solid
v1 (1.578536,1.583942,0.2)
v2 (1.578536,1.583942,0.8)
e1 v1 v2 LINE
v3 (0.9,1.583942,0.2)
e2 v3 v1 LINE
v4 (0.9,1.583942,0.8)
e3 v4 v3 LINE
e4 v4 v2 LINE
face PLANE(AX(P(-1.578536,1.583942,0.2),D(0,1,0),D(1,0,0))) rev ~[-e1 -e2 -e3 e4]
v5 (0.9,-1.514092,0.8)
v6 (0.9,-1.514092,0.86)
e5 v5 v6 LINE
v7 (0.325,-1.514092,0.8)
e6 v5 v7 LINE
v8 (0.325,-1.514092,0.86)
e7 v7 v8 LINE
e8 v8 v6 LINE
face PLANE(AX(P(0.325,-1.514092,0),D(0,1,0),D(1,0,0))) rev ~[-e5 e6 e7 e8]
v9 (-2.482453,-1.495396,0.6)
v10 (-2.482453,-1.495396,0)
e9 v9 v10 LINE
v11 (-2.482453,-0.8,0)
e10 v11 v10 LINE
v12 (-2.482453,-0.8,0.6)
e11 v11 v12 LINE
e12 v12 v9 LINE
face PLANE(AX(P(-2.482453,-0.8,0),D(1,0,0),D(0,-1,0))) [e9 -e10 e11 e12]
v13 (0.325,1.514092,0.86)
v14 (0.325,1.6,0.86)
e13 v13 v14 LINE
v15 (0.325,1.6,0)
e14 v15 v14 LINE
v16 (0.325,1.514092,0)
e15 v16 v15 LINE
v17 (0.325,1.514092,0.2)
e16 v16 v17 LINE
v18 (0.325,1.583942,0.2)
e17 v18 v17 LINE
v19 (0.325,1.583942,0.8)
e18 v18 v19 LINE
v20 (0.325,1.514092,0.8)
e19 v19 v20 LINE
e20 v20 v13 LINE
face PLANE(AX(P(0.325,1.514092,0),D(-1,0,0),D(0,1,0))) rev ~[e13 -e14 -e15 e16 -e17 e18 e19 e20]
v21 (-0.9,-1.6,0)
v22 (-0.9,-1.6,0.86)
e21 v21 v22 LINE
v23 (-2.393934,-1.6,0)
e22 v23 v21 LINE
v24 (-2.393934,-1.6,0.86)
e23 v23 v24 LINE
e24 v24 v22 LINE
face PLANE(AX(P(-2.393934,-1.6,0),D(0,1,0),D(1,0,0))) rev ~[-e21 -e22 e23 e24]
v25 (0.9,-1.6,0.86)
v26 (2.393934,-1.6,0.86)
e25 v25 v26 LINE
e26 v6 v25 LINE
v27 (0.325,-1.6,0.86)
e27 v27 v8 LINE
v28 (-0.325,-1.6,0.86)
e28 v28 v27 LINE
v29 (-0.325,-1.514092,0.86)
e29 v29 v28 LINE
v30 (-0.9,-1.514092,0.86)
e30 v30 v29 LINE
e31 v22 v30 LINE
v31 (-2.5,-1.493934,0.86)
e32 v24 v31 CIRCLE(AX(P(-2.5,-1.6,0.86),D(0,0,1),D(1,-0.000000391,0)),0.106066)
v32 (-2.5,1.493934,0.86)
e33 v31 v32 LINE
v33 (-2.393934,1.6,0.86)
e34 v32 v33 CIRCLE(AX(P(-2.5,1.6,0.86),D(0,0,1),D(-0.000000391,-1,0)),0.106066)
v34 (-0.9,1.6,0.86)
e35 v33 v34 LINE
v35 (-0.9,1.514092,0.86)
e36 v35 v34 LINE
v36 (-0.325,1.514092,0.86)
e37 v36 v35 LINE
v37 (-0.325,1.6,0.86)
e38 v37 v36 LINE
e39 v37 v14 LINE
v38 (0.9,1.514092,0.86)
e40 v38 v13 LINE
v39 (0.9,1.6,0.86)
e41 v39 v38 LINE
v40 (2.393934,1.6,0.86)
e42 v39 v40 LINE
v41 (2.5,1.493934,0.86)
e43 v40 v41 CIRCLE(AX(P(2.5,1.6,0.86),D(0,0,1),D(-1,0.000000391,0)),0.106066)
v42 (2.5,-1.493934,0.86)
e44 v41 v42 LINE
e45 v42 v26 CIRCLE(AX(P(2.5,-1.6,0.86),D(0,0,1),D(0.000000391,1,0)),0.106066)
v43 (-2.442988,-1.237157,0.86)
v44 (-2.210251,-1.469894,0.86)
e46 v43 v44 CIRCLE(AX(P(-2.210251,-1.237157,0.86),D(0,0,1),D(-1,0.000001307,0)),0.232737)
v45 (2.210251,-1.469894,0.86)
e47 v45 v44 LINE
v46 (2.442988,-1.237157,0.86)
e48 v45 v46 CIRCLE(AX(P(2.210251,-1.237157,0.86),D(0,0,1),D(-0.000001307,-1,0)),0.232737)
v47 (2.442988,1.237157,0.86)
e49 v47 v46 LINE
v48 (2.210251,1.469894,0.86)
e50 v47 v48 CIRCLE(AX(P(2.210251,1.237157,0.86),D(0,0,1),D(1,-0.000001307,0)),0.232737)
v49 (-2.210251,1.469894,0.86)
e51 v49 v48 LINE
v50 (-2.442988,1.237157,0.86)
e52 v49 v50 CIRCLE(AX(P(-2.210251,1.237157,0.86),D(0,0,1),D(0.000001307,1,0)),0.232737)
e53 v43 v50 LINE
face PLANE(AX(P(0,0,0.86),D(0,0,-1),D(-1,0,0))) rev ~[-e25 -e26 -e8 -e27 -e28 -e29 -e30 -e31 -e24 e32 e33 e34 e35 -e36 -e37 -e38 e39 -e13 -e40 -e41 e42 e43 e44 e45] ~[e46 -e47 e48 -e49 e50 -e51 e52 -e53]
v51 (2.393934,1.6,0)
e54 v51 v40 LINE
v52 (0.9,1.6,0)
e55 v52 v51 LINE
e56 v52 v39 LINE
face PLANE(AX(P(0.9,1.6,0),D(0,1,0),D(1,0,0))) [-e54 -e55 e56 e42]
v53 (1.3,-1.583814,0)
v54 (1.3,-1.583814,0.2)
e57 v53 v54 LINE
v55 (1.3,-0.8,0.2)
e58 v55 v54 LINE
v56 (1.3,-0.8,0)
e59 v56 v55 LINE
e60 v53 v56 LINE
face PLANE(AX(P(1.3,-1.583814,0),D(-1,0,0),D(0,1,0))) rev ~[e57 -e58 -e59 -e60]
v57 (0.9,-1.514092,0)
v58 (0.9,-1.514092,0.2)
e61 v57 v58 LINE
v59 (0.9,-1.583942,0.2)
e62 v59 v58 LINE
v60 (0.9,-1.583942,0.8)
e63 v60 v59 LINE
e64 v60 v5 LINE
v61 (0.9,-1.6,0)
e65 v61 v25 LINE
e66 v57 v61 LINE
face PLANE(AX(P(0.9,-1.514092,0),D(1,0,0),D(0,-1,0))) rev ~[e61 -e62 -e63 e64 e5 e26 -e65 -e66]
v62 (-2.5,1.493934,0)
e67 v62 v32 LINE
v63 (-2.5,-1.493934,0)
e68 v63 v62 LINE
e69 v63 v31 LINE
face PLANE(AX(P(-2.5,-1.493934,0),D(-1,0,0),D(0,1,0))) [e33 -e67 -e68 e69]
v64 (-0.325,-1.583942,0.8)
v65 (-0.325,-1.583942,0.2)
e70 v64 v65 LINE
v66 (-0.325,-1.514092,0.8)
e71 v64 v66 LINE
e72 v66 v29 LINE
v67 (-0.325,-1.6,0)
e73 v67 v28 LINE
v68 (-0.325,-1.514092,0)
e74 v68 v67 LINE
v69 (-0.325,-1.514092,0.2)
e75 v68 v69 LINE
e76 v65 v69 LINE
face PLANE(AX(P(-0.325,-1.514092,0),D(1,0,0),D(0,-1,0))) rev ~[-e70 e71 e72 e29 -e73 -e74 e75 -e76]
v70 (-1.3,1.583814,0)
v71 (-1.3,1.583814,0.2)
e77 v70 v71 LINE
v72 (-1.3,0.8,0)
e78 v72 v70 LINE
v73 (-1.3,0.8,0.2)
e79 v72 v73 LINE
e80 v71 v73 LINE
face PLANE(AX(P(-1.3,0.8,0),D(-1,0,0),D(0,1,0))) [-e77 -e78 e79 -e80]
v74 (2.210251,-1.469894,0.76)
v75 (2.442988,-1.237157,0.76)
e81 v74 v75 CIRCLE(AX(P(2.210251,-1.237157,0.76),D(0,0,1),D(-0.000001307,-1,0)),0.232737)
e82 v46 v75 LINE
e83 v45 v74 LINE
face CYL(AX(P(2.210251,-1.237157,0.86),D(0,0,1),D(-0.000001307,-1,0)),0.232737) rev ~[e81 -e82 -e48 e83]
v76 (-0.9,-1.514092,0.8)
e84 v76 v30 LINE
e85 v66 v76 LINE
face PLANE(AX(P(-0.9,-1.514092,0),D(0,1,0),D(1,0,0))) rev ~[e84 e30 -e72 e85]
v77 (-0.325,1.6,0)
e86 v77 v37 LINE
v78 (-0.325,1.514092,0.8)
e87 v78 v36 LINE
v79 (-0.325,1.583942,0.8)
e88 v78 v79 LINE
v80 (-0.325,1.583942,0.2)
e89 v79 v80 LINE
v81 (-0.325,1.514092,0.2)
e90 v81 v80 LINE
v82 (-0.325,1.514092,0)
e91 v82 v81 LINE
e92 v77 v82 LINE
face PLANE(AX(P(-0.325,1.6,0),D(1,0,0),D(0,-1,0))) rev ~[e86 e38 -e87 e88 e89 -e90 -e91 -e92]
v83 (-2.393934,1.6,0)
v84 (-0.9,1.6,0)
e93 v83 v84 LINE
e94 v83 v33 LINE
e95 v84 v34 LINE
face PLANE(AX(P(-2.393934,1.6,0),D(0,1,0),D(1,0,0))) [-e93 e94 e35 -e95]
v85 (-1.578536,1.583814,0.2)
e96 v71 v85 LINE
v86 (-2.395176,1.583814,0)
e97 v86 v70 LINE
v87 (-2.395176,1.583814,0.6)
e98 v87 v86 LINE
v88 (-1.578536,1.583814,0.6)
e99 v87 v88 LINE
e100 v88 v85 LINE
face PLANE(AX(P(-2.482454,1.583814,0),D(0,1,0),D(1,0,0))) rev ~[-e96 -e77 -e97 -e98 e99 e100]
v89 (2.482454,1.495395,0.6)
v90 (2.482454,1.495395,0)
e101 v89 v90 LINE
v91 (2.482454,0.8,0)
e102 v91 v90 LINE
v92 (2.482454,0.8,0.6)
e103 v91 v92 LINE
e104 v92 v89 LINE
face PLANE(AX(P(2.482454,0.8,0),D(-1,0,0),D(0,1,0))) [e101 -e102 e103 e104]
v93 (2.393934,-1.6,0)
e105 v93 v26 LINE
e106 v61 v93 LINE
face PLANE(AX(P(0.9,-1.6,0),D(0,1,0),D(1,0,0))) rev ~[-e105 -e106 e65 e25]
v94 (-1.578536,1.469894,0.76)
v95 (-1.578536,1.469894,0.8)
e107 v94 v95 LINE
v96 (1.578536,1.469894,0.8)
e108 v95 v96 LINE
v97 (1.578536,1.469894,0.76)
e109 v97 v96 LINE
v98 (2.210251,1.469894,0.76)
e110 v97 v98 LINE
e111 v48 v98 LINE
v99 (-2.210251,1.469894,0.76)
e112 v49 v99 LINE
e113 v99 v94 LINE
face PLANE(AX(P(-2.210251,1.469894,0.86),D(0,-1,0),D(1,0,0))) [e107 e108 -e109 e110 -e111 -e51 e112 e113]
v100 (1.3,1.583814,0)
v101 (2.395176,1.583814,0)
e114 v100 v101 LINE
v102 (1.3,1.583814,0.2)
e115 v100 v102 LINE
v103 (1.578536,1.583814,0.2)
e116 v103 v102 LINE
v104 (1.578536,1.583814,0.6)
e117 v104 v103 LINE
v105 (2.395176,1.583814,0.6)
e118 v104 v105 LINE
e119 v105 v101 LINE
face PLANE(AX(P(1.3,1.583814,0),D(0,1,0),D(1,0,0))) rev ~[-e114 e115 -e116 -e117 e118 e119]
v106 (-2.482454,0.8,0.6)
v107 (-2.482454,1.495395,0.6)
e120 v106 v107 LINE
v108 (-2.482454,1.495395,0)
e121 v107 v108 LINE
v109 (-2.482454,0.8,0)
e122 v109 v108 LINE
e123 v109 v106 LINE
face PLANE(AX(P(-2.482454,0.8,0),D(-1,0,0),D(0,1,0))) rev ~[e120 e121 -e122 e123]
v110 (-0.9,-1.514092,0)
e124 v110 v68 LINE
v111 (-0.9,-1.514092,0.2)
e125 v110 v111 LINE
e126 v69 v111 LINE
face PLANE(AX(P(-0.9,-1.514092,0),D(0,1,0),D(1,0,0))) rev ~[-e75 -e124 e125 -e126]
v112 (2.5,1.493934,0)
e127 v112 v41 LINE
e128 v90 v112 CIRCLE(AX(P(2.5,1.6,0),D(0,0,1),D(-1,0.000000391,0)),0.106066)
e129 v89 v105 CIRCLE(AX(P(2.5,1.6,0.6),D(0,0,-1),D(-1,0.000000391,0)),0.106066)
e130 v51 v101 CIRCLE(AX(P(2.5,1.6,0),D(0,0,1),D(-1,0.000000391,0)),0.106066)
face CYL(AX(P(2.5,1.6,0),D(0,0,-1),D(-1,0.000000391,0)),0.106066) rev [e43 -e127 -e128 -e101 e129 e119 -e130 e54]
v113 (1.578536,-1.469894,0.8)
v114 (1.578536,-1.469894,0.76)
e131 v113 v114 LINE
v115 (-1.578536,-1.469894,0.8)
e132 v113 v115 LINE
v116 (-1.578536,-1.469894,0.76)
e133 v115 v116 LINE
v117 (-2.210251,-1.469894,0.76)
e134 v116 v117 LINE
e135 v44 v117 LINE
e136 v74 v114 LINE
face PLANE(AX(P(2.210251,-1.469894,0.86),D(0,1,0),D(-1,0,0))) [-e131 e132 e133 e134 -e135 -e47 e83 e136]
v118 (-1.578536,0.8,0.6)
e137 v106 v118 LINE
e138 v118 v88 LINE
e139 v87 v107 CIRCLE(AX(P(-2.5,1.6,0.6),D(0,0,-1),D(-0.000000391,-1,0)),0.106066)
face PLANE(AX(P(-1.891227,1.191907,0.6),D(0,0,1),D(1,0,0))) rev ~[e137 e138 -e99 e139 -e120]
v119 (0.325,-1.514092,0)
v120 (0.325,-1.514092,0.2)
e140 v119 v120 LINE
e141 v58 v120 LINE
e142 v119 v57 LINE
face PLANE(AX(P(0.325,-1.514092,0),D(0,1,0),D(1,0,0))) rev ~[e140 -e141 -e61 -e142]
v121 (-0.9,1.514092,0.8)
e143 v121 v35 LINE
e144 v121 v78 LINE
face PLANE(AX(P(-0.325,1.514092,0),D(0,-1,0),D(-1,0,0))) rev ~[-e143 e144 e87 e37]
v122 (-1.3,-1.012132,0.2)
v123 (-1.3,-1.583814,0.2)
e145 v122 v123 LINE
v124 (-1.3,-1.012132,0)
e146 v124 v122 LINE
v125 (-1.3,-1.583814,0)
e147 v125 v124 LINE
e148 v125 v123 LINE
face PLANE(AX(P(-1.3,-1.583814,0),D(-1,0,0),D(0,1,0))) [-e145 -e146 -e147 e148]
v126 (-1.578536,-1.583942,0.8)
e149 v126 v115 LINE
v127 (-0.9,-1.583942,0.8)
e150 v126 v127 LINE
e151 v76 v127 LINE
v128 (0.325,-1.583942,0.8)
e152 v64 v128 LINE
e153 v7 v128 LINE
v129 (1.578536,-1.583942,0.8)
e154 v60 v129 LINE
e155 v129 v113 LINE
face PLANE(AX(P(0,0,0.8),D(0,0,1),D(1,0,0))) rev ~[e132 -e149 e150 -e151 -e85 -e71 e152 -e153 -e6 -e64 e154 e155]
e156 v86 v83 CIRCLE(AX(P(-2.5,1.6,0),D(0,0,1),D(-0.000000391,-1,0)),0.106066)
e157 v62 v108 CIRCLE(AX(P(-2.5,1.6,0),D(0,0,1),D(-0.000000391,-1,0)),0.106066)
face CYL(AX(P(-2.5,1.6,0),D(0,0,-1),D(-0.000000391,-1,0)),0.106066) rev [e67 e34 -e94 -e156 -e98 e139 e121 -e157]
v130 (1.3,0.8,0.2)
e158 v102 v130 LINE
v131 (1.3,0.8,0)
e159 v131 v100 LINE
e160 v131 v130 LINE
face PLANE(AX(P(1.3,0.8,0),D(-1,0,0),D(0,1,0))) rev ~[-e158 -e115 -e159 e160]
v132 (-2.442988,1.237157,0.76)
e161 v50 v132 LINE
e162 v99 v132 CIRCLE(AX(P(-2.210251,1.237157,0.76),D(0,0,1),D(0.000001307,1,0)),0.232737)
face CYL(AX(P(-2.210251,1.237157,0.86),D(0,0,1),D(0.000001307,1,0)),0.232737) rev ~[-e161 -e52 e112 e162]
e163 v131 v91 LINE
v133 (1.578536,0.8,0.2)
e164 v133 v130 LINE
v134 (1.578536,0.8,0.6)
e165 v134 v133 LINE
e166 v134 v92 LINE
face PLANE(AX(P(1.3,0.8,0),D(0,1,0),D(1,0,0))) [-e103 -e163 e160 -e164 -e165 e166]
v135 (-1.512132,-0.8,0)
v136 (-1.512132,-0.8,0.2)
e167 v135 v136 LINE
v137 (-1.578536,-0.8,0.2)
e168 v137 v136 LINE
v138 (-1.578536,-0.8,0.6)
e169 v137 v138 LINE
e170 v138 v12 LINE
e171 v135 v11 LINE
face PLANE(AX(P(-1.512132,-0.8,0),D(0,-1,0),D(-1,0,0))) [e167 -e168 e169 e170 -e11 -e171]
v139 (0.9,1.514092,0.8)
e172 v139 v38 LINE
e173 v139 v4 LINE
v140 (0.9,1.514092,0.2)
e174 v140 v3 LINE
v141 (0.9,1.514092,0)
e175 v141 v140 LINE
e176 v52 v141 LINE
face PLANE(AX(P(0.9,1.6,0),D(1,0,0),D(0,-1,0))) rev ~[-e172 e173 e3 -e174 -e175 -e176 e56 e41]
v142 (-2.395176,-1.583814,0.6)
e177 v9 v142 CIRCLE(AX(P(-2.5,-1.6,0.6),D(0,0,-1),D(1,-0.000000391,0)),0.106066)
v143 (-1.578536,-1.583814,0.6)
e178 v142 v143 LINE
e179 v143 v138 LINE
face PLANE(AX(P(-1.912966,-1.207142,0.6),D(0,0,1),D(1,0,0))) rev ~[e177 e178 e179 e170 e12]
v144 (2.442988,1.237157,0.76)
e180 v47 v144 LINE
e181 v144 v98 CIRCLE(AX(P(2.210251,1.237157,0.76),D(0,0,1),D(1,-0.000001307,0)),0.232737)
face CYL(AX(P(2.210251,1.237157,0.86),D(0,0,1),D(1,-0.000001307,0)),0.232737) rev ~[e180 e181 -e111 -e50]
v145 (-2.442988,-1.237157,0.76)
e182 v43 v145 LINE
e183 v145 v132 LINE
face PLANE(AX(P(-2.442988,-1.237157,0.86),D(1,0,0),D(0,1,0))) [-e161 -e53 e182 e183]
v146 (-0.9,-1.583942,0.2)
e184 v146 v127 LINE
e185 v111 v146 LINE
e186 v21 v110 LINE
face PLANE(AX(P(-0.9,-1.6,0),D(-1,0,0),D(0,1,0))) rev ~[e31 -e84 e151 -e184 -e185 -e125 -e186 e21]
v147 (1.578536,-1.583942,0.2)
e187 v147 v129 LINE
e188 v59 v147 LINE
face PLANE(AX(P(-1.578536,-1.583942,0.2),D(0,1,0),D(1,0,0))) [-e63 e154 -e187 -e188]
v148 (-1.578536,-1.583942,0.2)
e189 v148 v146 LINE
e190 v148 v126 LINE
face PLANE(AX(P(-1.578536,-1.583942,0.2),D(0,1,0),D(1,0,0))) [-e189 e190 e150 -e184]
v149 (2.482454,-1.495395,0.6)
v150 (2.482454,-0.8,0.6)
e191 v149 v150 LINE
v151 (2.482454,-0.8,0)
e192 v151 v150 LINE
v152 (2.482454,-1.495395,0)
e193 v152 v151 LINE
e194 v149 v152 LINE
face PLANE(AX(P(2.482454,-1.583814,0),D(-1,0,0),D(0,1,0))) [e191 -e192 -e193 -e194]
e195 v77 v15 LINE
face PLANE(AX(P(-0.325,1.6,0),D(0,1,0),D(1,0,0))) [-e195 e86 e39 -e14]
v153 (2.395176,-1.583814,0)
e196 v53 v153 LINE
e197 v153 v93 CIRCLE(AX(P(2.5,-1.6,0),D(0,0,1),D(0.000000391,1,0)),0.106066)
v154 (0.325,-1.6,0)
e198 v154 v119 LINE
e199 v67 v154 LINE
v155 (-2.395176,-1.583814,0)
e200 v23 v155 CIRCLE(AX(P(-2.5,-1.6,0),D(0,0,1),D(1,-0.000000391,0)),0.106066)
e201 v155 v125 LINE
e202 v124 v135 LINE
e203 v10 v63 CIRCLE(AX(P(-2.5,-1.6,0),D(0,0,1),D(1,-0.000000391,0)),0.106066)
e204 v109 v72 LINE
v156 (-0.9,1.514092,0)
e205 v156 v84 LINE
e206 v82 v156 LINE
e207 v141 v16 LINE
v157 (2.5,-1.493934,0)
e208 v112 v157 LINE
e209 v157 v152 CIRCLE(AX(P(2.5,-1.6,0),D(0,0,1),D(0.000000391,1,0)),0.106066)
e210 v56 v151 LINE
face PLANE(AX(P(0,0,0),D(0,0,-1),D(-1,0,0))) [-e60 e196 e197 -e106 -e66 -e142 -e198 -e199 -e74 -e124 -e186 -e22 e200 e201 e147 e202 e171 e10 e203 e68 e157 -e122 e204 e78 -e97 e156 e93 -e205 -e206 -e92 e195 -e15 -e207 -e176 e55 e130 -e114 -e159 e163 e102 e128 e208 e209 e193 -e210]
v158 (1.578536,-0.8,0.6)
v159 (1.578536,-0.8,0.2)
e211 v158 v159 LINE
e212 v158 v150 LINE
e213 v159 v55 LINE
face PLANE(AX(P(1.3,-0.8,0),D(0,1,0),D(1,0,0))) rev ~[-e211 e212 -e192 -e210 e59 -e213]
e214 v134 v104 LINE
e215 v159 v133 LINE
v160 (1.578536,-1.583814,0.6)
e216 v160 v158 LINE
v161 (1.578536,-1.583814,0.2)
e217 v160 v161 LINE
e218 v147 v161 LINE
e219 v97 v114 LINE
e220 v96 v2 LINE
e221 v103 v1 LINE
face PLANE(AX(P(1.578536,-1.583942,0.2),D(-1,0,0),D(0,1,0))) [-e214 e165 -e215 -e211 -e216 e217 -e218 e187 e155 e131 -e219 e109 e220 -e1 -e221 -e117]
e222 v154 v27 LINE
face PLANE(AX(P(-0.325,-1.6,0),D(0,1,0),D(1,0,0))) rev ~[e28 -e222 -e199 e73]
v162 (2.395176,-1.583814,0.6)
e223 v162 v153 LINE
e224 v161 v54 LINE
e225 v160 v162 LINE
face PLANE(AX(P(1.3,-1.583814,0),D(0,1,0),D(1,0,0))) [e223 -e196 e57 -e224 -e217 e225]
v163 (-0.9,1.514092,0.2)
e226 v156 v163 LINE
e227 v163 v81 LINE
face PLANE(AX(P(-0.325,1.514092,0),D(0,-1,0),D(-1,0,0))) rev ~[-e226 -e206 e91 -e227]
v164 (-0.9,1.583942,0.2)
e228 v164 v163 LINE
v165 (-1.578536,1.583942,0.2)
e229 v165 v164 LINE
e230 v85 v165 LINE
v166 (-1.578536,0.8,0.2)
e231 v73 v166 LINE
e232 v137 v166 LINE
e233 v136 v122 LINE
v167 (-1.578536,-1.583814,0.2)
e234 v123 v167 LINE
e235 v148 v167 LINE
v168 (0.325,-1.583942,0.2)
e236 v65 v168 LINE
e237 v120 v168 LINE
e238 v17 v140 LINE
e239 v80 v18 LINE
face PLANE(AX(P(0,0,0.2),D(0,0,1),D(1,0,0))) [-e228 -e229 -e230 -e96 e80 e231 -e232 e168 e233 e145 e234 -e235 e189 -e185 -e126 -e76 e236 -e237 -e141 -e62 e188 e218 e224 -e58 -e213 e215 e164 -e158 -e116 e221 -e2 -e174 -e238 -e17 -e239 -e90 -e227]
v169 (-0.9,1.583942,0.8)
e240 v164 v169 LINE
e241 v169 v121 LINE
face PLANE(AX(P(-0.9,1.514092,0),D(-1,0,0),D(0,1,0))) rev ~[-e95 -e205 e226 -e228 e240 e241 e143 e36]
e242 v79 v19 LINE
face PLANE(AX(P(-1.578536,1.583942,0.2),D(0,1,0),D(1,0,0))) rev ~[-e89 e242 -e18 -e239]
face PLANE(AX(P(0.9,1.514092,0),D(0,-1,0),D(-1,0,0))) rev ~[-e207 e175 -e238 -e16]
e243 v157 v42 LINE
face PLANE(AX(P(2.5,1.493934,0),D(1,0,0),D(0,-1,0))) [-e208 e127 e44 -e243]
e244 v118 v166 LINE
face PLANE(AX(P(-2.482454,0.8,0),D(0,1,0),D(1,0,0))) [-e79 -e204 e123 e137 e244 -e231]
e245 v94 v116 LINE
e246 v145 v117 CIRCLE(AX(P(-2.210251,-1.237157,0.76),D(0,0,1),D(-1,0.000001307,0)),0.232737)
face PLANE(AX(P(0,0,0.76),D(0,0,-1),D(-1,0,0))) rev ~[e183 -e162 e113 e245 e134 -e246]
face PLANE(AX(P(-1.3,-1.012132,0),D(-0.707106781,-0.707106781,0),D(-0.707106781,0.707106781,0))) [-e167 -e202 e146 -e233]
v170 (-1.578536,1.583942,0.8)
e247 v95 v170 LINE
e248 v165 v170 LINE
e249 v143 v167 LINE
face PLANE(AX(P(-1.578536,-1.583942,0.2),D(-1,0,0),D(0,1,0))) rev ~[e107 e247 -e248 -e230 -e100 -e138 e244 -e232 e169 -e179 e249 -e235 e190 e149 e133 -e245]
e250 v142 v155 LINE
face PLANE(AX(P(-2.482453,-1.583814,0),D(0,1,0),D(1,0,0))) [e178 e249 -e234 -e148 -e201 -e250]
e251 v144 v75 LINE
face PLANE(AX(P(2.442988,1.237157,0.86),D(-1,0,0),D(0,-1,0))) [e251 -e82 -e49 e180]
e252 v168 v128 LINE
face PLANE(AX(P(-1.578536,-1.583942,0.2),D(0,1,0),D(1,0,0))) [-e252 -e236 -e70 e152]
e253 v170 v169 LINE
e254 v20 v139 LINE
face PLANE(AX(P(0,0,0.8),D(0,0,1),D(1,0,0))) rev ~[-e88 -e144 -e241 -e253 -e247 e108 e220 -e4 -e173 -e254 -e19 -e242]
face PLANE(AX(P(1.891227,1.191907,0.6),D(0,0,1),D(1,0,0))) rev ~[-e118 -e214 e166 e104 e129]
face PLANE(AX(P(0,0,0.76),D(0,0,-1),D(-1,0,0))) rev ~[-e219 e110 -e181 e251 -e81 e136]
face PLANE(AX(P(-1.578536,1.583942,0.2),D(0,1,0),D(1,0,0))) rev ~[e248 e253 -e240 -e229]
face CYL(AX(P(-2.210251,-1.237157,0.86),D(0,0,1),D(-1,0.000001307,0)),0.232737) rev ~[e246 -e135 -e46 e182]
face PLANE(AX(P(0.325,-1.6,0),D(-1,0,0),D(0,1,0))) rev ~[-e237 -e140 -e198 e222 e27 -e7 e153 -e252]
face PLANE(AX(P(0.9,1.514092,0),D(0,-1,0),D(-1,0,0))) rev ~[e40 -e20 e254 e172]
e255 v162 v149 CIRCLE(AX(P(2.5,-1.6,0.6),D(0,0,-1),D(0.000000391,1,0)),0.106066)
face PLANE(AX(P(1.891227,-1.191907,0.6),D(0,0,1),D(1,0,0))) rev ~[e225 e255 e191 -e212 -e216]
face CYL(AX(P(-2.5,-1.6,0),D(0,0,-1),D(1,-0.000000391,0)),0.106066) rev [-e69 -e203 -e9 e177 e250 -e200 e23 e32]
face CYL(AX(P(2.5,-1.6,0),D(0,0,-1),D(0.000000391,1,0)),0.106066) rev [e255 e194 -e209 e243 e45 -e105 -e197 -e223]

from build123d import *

# Parameters (mm, degrees)
PAD006_DEPTH = 0.1
PAD007_DEPTH = 0.2
FILLET_R     = 0.07
PAD_DEPTH    = 0.86
SKETCH005_W  = 3.157072
SKETCH005_H  = 3.167884
PAD004_DEPTH = 0.6
SKETCH004_W  = 1.182453
SKETCH004_H  = 0.783814
PAD005_DEPTH = 0.6


with BuildPart() as substrate:
    # Sketch006 → Pad006 (new body)
    with BuildSketch(Plane.XY):
        with BuildLine():
            Line((-2.210251, 1.469894), (2.210251, 1.469894))
            ThreePointArc((2.442988, 1.237157), (2.374821, 1.401727), (2.210251, 1.469894))
            Line((2.442988, 1.237157), (2.442988, -1.237157))
            ThreePointArc((2.210251, -1.469894), (2.374821, -1.401727), (2.442988, -1.237157))
            Line((2.210251, -1.469894), (-2.210251, -1.469894))
            ThreePointArc((-2.442988, -1.237157), (-2.374821, -1.401727), (-2.210251, -1.469894))
            Line((-2.442988, -1.237157), (-2.442988, 1.237157))
            ThreePointArc((-2.210251, 1.469894), (-2.374821, 1.401727), (-2.442988, 1.237157))
        make_face()
    extrude(amount=-PAD006_DEPTH)

    # Sketch007 → Pad007 (join)
    with BuildSketch(Plane.XY):
        with BuildLine():
            Line((-2.242494, 1.3481), (2.242494, 1.3481))
            ThreePointArc((2.32297, 1.267624), (2.299399, 1.324529), (2.242494, 1.3481))
            Line((2.32297, 1.267624), (2.32297, -1.267624))
            ThreePointArc((2.242494, -1.3481), (2.299399, -1.324529), (2.32297, -1.267624))
            Line((2.242494, -1.3481), (-2.242494, -1.3481))
            ThreePointArc((-2.32297, -1.267624), (-2.299399, -1.324529), (-2.242494, -1.3481))
            Line((-2.32297, -1.267624), (-2.32297, 1.267624))
            ThreePointArc((-2.242494, 1.3481), (-2.299399, 1.324529), (-2.32297, 1.267624))
        make_face()
    extrude(amount=PAD007_DEPTH)

    # Fillet
    fillet_edges = [substrate.edges().sort_by_distance(p)[0] for p in [
        (-2.299399, -1.324529, 0),
        (-2.32297, 0, 0),
        (0, -1.3481, 0),
        (2.299399, -1.324529, 0),
        (2.32297, 0, 0),
        (2.299399, 1.324529, 0),
        (0, 1.3481, 0),
        (-2.299399, 1.324529, 0),
    ]]
    fillet(fillet_edges, radius=FILLET_R)


with BuildPart() as substrate_1:
    # Body006 placement: moved
    add(substrate.part.moved(Location((0, 0, 0.86))))


with BuildPart() as epoxy_envelope:
    # Sketch → Pad (new body)
    with BuildSketch(Plane.XY):
        with BuildLine():
            ThreePointArc((-2.5, 1.493934), (-2.425, 1.525), (-2.393934, 1.6))
            Line((-2.393934, 1.6), (-0.9, 1.6))
            Line((-0.9, 1.514092), (-0.9, 1.6))
            Line((-0.325, 1.514092), (-0.9, 1.514092))
            Line((-0.325, 1.6), (-0.325, 1.514092))
            Line((-0.325, 1.6), (0.325, 1.6))
            Line((0.325, 1.514092), (0.325, 1.6))
            Line((0.9, 1.514092), (0.325, 1.514092))
            Line((0.9, 1.6), (0.9, 1.514092))
            Line((0.9, 1.6), (2.393934, 1.6))
            ThreePointArc((2.393934, 1.6), (2.425, 1.525), (2.5, 1.493934))
            Line((2.5, 1.493934), (2.5, -1.493934))
            ThreePointArc((2.5, -1.493934), (2.425, -1.525), (2.393934, -1.6))
            Line((0.9, -1.6), (2.393934, -1.6))
            Line((0.9, -1.514092), (0.9, -1.6))
            Line((0.325, -1.514092), (0.9, -1.514092))
            Line((0.325, -1.6), (0.325, -1.514092))
            Line((-0.325, -1.6), (0.325, -1.6))
            Line((-0.325, -1.514092), (-0.325, -1.6))
            Line((-0.9, -1.514092), (-0.325, -1.514092))
            Line((-0.9, -1.6), (-0.9, -1.514092))
            Line((-2.393934, -1.6), (-0.9, -1.6))
            ThreePointArc((-2.393934, -1.6), (-2.425, -1.525), (-2.5, -1.493934))
            Line((-2.5, -1.493934), (-2.5, 1.493934))
        make_face()
    extrude(amount=PAD_DEPTH)


with BuildPart() as epoxy_envelope_clone:
    # Body005 base: copy of Epoxy Envelope
    add(epoxy_envelope.part)


with BuildPart() as gold_bits_clone:
    # Sketch005 (on DatumPlane) → Pad004 (new body)
    with BuildSketch(Plane.XY.offset(0.2)):
        Rectangle(SKETCH005_W, SKETCH005_H)
    extrude(amount=PAD004_DEPTH)

    # Sketch004 → Pad005 (join)
    with BuildSketch(Plane.XY):
        Polygon((-2.482453, -1.583814), (-1.3, -1.583814), (-1.3, -1.012132), (-1.512132, -0.8), (-2.482453, -0.8), align=None)
        with Locations((-1.891227, 1.191907)):
            Rectangle(SKETCH004_W, SKETCH004_H)
        with Locations((1.891227, 1.191907)):
            Rectangle(SKETCH004_W, SKETCH004_H)
        with Locations((1.891227, -1.191907)):
            Rectangle(SKETCH004_W, SKETCH004_H)
    extrude(amount=PAD005_DEPTH)

    # Common: intersect Epoxy Envelope Clone
    add(epoxy_envelope_clone.part, mode=Mode.INTERSECT)

    # Fusion: union Substrate
    add(substrate_1.part)


with BuildPart() as epoxy:
    # Cut base: copy of Epoxy Envelope
    add(epoxy_envelope.part)

    # Cut: cut Gold Bits Clone
    add(gold_bits_clone.part, mode=Mode.SUBTRACT)


solid = epoxy.part
